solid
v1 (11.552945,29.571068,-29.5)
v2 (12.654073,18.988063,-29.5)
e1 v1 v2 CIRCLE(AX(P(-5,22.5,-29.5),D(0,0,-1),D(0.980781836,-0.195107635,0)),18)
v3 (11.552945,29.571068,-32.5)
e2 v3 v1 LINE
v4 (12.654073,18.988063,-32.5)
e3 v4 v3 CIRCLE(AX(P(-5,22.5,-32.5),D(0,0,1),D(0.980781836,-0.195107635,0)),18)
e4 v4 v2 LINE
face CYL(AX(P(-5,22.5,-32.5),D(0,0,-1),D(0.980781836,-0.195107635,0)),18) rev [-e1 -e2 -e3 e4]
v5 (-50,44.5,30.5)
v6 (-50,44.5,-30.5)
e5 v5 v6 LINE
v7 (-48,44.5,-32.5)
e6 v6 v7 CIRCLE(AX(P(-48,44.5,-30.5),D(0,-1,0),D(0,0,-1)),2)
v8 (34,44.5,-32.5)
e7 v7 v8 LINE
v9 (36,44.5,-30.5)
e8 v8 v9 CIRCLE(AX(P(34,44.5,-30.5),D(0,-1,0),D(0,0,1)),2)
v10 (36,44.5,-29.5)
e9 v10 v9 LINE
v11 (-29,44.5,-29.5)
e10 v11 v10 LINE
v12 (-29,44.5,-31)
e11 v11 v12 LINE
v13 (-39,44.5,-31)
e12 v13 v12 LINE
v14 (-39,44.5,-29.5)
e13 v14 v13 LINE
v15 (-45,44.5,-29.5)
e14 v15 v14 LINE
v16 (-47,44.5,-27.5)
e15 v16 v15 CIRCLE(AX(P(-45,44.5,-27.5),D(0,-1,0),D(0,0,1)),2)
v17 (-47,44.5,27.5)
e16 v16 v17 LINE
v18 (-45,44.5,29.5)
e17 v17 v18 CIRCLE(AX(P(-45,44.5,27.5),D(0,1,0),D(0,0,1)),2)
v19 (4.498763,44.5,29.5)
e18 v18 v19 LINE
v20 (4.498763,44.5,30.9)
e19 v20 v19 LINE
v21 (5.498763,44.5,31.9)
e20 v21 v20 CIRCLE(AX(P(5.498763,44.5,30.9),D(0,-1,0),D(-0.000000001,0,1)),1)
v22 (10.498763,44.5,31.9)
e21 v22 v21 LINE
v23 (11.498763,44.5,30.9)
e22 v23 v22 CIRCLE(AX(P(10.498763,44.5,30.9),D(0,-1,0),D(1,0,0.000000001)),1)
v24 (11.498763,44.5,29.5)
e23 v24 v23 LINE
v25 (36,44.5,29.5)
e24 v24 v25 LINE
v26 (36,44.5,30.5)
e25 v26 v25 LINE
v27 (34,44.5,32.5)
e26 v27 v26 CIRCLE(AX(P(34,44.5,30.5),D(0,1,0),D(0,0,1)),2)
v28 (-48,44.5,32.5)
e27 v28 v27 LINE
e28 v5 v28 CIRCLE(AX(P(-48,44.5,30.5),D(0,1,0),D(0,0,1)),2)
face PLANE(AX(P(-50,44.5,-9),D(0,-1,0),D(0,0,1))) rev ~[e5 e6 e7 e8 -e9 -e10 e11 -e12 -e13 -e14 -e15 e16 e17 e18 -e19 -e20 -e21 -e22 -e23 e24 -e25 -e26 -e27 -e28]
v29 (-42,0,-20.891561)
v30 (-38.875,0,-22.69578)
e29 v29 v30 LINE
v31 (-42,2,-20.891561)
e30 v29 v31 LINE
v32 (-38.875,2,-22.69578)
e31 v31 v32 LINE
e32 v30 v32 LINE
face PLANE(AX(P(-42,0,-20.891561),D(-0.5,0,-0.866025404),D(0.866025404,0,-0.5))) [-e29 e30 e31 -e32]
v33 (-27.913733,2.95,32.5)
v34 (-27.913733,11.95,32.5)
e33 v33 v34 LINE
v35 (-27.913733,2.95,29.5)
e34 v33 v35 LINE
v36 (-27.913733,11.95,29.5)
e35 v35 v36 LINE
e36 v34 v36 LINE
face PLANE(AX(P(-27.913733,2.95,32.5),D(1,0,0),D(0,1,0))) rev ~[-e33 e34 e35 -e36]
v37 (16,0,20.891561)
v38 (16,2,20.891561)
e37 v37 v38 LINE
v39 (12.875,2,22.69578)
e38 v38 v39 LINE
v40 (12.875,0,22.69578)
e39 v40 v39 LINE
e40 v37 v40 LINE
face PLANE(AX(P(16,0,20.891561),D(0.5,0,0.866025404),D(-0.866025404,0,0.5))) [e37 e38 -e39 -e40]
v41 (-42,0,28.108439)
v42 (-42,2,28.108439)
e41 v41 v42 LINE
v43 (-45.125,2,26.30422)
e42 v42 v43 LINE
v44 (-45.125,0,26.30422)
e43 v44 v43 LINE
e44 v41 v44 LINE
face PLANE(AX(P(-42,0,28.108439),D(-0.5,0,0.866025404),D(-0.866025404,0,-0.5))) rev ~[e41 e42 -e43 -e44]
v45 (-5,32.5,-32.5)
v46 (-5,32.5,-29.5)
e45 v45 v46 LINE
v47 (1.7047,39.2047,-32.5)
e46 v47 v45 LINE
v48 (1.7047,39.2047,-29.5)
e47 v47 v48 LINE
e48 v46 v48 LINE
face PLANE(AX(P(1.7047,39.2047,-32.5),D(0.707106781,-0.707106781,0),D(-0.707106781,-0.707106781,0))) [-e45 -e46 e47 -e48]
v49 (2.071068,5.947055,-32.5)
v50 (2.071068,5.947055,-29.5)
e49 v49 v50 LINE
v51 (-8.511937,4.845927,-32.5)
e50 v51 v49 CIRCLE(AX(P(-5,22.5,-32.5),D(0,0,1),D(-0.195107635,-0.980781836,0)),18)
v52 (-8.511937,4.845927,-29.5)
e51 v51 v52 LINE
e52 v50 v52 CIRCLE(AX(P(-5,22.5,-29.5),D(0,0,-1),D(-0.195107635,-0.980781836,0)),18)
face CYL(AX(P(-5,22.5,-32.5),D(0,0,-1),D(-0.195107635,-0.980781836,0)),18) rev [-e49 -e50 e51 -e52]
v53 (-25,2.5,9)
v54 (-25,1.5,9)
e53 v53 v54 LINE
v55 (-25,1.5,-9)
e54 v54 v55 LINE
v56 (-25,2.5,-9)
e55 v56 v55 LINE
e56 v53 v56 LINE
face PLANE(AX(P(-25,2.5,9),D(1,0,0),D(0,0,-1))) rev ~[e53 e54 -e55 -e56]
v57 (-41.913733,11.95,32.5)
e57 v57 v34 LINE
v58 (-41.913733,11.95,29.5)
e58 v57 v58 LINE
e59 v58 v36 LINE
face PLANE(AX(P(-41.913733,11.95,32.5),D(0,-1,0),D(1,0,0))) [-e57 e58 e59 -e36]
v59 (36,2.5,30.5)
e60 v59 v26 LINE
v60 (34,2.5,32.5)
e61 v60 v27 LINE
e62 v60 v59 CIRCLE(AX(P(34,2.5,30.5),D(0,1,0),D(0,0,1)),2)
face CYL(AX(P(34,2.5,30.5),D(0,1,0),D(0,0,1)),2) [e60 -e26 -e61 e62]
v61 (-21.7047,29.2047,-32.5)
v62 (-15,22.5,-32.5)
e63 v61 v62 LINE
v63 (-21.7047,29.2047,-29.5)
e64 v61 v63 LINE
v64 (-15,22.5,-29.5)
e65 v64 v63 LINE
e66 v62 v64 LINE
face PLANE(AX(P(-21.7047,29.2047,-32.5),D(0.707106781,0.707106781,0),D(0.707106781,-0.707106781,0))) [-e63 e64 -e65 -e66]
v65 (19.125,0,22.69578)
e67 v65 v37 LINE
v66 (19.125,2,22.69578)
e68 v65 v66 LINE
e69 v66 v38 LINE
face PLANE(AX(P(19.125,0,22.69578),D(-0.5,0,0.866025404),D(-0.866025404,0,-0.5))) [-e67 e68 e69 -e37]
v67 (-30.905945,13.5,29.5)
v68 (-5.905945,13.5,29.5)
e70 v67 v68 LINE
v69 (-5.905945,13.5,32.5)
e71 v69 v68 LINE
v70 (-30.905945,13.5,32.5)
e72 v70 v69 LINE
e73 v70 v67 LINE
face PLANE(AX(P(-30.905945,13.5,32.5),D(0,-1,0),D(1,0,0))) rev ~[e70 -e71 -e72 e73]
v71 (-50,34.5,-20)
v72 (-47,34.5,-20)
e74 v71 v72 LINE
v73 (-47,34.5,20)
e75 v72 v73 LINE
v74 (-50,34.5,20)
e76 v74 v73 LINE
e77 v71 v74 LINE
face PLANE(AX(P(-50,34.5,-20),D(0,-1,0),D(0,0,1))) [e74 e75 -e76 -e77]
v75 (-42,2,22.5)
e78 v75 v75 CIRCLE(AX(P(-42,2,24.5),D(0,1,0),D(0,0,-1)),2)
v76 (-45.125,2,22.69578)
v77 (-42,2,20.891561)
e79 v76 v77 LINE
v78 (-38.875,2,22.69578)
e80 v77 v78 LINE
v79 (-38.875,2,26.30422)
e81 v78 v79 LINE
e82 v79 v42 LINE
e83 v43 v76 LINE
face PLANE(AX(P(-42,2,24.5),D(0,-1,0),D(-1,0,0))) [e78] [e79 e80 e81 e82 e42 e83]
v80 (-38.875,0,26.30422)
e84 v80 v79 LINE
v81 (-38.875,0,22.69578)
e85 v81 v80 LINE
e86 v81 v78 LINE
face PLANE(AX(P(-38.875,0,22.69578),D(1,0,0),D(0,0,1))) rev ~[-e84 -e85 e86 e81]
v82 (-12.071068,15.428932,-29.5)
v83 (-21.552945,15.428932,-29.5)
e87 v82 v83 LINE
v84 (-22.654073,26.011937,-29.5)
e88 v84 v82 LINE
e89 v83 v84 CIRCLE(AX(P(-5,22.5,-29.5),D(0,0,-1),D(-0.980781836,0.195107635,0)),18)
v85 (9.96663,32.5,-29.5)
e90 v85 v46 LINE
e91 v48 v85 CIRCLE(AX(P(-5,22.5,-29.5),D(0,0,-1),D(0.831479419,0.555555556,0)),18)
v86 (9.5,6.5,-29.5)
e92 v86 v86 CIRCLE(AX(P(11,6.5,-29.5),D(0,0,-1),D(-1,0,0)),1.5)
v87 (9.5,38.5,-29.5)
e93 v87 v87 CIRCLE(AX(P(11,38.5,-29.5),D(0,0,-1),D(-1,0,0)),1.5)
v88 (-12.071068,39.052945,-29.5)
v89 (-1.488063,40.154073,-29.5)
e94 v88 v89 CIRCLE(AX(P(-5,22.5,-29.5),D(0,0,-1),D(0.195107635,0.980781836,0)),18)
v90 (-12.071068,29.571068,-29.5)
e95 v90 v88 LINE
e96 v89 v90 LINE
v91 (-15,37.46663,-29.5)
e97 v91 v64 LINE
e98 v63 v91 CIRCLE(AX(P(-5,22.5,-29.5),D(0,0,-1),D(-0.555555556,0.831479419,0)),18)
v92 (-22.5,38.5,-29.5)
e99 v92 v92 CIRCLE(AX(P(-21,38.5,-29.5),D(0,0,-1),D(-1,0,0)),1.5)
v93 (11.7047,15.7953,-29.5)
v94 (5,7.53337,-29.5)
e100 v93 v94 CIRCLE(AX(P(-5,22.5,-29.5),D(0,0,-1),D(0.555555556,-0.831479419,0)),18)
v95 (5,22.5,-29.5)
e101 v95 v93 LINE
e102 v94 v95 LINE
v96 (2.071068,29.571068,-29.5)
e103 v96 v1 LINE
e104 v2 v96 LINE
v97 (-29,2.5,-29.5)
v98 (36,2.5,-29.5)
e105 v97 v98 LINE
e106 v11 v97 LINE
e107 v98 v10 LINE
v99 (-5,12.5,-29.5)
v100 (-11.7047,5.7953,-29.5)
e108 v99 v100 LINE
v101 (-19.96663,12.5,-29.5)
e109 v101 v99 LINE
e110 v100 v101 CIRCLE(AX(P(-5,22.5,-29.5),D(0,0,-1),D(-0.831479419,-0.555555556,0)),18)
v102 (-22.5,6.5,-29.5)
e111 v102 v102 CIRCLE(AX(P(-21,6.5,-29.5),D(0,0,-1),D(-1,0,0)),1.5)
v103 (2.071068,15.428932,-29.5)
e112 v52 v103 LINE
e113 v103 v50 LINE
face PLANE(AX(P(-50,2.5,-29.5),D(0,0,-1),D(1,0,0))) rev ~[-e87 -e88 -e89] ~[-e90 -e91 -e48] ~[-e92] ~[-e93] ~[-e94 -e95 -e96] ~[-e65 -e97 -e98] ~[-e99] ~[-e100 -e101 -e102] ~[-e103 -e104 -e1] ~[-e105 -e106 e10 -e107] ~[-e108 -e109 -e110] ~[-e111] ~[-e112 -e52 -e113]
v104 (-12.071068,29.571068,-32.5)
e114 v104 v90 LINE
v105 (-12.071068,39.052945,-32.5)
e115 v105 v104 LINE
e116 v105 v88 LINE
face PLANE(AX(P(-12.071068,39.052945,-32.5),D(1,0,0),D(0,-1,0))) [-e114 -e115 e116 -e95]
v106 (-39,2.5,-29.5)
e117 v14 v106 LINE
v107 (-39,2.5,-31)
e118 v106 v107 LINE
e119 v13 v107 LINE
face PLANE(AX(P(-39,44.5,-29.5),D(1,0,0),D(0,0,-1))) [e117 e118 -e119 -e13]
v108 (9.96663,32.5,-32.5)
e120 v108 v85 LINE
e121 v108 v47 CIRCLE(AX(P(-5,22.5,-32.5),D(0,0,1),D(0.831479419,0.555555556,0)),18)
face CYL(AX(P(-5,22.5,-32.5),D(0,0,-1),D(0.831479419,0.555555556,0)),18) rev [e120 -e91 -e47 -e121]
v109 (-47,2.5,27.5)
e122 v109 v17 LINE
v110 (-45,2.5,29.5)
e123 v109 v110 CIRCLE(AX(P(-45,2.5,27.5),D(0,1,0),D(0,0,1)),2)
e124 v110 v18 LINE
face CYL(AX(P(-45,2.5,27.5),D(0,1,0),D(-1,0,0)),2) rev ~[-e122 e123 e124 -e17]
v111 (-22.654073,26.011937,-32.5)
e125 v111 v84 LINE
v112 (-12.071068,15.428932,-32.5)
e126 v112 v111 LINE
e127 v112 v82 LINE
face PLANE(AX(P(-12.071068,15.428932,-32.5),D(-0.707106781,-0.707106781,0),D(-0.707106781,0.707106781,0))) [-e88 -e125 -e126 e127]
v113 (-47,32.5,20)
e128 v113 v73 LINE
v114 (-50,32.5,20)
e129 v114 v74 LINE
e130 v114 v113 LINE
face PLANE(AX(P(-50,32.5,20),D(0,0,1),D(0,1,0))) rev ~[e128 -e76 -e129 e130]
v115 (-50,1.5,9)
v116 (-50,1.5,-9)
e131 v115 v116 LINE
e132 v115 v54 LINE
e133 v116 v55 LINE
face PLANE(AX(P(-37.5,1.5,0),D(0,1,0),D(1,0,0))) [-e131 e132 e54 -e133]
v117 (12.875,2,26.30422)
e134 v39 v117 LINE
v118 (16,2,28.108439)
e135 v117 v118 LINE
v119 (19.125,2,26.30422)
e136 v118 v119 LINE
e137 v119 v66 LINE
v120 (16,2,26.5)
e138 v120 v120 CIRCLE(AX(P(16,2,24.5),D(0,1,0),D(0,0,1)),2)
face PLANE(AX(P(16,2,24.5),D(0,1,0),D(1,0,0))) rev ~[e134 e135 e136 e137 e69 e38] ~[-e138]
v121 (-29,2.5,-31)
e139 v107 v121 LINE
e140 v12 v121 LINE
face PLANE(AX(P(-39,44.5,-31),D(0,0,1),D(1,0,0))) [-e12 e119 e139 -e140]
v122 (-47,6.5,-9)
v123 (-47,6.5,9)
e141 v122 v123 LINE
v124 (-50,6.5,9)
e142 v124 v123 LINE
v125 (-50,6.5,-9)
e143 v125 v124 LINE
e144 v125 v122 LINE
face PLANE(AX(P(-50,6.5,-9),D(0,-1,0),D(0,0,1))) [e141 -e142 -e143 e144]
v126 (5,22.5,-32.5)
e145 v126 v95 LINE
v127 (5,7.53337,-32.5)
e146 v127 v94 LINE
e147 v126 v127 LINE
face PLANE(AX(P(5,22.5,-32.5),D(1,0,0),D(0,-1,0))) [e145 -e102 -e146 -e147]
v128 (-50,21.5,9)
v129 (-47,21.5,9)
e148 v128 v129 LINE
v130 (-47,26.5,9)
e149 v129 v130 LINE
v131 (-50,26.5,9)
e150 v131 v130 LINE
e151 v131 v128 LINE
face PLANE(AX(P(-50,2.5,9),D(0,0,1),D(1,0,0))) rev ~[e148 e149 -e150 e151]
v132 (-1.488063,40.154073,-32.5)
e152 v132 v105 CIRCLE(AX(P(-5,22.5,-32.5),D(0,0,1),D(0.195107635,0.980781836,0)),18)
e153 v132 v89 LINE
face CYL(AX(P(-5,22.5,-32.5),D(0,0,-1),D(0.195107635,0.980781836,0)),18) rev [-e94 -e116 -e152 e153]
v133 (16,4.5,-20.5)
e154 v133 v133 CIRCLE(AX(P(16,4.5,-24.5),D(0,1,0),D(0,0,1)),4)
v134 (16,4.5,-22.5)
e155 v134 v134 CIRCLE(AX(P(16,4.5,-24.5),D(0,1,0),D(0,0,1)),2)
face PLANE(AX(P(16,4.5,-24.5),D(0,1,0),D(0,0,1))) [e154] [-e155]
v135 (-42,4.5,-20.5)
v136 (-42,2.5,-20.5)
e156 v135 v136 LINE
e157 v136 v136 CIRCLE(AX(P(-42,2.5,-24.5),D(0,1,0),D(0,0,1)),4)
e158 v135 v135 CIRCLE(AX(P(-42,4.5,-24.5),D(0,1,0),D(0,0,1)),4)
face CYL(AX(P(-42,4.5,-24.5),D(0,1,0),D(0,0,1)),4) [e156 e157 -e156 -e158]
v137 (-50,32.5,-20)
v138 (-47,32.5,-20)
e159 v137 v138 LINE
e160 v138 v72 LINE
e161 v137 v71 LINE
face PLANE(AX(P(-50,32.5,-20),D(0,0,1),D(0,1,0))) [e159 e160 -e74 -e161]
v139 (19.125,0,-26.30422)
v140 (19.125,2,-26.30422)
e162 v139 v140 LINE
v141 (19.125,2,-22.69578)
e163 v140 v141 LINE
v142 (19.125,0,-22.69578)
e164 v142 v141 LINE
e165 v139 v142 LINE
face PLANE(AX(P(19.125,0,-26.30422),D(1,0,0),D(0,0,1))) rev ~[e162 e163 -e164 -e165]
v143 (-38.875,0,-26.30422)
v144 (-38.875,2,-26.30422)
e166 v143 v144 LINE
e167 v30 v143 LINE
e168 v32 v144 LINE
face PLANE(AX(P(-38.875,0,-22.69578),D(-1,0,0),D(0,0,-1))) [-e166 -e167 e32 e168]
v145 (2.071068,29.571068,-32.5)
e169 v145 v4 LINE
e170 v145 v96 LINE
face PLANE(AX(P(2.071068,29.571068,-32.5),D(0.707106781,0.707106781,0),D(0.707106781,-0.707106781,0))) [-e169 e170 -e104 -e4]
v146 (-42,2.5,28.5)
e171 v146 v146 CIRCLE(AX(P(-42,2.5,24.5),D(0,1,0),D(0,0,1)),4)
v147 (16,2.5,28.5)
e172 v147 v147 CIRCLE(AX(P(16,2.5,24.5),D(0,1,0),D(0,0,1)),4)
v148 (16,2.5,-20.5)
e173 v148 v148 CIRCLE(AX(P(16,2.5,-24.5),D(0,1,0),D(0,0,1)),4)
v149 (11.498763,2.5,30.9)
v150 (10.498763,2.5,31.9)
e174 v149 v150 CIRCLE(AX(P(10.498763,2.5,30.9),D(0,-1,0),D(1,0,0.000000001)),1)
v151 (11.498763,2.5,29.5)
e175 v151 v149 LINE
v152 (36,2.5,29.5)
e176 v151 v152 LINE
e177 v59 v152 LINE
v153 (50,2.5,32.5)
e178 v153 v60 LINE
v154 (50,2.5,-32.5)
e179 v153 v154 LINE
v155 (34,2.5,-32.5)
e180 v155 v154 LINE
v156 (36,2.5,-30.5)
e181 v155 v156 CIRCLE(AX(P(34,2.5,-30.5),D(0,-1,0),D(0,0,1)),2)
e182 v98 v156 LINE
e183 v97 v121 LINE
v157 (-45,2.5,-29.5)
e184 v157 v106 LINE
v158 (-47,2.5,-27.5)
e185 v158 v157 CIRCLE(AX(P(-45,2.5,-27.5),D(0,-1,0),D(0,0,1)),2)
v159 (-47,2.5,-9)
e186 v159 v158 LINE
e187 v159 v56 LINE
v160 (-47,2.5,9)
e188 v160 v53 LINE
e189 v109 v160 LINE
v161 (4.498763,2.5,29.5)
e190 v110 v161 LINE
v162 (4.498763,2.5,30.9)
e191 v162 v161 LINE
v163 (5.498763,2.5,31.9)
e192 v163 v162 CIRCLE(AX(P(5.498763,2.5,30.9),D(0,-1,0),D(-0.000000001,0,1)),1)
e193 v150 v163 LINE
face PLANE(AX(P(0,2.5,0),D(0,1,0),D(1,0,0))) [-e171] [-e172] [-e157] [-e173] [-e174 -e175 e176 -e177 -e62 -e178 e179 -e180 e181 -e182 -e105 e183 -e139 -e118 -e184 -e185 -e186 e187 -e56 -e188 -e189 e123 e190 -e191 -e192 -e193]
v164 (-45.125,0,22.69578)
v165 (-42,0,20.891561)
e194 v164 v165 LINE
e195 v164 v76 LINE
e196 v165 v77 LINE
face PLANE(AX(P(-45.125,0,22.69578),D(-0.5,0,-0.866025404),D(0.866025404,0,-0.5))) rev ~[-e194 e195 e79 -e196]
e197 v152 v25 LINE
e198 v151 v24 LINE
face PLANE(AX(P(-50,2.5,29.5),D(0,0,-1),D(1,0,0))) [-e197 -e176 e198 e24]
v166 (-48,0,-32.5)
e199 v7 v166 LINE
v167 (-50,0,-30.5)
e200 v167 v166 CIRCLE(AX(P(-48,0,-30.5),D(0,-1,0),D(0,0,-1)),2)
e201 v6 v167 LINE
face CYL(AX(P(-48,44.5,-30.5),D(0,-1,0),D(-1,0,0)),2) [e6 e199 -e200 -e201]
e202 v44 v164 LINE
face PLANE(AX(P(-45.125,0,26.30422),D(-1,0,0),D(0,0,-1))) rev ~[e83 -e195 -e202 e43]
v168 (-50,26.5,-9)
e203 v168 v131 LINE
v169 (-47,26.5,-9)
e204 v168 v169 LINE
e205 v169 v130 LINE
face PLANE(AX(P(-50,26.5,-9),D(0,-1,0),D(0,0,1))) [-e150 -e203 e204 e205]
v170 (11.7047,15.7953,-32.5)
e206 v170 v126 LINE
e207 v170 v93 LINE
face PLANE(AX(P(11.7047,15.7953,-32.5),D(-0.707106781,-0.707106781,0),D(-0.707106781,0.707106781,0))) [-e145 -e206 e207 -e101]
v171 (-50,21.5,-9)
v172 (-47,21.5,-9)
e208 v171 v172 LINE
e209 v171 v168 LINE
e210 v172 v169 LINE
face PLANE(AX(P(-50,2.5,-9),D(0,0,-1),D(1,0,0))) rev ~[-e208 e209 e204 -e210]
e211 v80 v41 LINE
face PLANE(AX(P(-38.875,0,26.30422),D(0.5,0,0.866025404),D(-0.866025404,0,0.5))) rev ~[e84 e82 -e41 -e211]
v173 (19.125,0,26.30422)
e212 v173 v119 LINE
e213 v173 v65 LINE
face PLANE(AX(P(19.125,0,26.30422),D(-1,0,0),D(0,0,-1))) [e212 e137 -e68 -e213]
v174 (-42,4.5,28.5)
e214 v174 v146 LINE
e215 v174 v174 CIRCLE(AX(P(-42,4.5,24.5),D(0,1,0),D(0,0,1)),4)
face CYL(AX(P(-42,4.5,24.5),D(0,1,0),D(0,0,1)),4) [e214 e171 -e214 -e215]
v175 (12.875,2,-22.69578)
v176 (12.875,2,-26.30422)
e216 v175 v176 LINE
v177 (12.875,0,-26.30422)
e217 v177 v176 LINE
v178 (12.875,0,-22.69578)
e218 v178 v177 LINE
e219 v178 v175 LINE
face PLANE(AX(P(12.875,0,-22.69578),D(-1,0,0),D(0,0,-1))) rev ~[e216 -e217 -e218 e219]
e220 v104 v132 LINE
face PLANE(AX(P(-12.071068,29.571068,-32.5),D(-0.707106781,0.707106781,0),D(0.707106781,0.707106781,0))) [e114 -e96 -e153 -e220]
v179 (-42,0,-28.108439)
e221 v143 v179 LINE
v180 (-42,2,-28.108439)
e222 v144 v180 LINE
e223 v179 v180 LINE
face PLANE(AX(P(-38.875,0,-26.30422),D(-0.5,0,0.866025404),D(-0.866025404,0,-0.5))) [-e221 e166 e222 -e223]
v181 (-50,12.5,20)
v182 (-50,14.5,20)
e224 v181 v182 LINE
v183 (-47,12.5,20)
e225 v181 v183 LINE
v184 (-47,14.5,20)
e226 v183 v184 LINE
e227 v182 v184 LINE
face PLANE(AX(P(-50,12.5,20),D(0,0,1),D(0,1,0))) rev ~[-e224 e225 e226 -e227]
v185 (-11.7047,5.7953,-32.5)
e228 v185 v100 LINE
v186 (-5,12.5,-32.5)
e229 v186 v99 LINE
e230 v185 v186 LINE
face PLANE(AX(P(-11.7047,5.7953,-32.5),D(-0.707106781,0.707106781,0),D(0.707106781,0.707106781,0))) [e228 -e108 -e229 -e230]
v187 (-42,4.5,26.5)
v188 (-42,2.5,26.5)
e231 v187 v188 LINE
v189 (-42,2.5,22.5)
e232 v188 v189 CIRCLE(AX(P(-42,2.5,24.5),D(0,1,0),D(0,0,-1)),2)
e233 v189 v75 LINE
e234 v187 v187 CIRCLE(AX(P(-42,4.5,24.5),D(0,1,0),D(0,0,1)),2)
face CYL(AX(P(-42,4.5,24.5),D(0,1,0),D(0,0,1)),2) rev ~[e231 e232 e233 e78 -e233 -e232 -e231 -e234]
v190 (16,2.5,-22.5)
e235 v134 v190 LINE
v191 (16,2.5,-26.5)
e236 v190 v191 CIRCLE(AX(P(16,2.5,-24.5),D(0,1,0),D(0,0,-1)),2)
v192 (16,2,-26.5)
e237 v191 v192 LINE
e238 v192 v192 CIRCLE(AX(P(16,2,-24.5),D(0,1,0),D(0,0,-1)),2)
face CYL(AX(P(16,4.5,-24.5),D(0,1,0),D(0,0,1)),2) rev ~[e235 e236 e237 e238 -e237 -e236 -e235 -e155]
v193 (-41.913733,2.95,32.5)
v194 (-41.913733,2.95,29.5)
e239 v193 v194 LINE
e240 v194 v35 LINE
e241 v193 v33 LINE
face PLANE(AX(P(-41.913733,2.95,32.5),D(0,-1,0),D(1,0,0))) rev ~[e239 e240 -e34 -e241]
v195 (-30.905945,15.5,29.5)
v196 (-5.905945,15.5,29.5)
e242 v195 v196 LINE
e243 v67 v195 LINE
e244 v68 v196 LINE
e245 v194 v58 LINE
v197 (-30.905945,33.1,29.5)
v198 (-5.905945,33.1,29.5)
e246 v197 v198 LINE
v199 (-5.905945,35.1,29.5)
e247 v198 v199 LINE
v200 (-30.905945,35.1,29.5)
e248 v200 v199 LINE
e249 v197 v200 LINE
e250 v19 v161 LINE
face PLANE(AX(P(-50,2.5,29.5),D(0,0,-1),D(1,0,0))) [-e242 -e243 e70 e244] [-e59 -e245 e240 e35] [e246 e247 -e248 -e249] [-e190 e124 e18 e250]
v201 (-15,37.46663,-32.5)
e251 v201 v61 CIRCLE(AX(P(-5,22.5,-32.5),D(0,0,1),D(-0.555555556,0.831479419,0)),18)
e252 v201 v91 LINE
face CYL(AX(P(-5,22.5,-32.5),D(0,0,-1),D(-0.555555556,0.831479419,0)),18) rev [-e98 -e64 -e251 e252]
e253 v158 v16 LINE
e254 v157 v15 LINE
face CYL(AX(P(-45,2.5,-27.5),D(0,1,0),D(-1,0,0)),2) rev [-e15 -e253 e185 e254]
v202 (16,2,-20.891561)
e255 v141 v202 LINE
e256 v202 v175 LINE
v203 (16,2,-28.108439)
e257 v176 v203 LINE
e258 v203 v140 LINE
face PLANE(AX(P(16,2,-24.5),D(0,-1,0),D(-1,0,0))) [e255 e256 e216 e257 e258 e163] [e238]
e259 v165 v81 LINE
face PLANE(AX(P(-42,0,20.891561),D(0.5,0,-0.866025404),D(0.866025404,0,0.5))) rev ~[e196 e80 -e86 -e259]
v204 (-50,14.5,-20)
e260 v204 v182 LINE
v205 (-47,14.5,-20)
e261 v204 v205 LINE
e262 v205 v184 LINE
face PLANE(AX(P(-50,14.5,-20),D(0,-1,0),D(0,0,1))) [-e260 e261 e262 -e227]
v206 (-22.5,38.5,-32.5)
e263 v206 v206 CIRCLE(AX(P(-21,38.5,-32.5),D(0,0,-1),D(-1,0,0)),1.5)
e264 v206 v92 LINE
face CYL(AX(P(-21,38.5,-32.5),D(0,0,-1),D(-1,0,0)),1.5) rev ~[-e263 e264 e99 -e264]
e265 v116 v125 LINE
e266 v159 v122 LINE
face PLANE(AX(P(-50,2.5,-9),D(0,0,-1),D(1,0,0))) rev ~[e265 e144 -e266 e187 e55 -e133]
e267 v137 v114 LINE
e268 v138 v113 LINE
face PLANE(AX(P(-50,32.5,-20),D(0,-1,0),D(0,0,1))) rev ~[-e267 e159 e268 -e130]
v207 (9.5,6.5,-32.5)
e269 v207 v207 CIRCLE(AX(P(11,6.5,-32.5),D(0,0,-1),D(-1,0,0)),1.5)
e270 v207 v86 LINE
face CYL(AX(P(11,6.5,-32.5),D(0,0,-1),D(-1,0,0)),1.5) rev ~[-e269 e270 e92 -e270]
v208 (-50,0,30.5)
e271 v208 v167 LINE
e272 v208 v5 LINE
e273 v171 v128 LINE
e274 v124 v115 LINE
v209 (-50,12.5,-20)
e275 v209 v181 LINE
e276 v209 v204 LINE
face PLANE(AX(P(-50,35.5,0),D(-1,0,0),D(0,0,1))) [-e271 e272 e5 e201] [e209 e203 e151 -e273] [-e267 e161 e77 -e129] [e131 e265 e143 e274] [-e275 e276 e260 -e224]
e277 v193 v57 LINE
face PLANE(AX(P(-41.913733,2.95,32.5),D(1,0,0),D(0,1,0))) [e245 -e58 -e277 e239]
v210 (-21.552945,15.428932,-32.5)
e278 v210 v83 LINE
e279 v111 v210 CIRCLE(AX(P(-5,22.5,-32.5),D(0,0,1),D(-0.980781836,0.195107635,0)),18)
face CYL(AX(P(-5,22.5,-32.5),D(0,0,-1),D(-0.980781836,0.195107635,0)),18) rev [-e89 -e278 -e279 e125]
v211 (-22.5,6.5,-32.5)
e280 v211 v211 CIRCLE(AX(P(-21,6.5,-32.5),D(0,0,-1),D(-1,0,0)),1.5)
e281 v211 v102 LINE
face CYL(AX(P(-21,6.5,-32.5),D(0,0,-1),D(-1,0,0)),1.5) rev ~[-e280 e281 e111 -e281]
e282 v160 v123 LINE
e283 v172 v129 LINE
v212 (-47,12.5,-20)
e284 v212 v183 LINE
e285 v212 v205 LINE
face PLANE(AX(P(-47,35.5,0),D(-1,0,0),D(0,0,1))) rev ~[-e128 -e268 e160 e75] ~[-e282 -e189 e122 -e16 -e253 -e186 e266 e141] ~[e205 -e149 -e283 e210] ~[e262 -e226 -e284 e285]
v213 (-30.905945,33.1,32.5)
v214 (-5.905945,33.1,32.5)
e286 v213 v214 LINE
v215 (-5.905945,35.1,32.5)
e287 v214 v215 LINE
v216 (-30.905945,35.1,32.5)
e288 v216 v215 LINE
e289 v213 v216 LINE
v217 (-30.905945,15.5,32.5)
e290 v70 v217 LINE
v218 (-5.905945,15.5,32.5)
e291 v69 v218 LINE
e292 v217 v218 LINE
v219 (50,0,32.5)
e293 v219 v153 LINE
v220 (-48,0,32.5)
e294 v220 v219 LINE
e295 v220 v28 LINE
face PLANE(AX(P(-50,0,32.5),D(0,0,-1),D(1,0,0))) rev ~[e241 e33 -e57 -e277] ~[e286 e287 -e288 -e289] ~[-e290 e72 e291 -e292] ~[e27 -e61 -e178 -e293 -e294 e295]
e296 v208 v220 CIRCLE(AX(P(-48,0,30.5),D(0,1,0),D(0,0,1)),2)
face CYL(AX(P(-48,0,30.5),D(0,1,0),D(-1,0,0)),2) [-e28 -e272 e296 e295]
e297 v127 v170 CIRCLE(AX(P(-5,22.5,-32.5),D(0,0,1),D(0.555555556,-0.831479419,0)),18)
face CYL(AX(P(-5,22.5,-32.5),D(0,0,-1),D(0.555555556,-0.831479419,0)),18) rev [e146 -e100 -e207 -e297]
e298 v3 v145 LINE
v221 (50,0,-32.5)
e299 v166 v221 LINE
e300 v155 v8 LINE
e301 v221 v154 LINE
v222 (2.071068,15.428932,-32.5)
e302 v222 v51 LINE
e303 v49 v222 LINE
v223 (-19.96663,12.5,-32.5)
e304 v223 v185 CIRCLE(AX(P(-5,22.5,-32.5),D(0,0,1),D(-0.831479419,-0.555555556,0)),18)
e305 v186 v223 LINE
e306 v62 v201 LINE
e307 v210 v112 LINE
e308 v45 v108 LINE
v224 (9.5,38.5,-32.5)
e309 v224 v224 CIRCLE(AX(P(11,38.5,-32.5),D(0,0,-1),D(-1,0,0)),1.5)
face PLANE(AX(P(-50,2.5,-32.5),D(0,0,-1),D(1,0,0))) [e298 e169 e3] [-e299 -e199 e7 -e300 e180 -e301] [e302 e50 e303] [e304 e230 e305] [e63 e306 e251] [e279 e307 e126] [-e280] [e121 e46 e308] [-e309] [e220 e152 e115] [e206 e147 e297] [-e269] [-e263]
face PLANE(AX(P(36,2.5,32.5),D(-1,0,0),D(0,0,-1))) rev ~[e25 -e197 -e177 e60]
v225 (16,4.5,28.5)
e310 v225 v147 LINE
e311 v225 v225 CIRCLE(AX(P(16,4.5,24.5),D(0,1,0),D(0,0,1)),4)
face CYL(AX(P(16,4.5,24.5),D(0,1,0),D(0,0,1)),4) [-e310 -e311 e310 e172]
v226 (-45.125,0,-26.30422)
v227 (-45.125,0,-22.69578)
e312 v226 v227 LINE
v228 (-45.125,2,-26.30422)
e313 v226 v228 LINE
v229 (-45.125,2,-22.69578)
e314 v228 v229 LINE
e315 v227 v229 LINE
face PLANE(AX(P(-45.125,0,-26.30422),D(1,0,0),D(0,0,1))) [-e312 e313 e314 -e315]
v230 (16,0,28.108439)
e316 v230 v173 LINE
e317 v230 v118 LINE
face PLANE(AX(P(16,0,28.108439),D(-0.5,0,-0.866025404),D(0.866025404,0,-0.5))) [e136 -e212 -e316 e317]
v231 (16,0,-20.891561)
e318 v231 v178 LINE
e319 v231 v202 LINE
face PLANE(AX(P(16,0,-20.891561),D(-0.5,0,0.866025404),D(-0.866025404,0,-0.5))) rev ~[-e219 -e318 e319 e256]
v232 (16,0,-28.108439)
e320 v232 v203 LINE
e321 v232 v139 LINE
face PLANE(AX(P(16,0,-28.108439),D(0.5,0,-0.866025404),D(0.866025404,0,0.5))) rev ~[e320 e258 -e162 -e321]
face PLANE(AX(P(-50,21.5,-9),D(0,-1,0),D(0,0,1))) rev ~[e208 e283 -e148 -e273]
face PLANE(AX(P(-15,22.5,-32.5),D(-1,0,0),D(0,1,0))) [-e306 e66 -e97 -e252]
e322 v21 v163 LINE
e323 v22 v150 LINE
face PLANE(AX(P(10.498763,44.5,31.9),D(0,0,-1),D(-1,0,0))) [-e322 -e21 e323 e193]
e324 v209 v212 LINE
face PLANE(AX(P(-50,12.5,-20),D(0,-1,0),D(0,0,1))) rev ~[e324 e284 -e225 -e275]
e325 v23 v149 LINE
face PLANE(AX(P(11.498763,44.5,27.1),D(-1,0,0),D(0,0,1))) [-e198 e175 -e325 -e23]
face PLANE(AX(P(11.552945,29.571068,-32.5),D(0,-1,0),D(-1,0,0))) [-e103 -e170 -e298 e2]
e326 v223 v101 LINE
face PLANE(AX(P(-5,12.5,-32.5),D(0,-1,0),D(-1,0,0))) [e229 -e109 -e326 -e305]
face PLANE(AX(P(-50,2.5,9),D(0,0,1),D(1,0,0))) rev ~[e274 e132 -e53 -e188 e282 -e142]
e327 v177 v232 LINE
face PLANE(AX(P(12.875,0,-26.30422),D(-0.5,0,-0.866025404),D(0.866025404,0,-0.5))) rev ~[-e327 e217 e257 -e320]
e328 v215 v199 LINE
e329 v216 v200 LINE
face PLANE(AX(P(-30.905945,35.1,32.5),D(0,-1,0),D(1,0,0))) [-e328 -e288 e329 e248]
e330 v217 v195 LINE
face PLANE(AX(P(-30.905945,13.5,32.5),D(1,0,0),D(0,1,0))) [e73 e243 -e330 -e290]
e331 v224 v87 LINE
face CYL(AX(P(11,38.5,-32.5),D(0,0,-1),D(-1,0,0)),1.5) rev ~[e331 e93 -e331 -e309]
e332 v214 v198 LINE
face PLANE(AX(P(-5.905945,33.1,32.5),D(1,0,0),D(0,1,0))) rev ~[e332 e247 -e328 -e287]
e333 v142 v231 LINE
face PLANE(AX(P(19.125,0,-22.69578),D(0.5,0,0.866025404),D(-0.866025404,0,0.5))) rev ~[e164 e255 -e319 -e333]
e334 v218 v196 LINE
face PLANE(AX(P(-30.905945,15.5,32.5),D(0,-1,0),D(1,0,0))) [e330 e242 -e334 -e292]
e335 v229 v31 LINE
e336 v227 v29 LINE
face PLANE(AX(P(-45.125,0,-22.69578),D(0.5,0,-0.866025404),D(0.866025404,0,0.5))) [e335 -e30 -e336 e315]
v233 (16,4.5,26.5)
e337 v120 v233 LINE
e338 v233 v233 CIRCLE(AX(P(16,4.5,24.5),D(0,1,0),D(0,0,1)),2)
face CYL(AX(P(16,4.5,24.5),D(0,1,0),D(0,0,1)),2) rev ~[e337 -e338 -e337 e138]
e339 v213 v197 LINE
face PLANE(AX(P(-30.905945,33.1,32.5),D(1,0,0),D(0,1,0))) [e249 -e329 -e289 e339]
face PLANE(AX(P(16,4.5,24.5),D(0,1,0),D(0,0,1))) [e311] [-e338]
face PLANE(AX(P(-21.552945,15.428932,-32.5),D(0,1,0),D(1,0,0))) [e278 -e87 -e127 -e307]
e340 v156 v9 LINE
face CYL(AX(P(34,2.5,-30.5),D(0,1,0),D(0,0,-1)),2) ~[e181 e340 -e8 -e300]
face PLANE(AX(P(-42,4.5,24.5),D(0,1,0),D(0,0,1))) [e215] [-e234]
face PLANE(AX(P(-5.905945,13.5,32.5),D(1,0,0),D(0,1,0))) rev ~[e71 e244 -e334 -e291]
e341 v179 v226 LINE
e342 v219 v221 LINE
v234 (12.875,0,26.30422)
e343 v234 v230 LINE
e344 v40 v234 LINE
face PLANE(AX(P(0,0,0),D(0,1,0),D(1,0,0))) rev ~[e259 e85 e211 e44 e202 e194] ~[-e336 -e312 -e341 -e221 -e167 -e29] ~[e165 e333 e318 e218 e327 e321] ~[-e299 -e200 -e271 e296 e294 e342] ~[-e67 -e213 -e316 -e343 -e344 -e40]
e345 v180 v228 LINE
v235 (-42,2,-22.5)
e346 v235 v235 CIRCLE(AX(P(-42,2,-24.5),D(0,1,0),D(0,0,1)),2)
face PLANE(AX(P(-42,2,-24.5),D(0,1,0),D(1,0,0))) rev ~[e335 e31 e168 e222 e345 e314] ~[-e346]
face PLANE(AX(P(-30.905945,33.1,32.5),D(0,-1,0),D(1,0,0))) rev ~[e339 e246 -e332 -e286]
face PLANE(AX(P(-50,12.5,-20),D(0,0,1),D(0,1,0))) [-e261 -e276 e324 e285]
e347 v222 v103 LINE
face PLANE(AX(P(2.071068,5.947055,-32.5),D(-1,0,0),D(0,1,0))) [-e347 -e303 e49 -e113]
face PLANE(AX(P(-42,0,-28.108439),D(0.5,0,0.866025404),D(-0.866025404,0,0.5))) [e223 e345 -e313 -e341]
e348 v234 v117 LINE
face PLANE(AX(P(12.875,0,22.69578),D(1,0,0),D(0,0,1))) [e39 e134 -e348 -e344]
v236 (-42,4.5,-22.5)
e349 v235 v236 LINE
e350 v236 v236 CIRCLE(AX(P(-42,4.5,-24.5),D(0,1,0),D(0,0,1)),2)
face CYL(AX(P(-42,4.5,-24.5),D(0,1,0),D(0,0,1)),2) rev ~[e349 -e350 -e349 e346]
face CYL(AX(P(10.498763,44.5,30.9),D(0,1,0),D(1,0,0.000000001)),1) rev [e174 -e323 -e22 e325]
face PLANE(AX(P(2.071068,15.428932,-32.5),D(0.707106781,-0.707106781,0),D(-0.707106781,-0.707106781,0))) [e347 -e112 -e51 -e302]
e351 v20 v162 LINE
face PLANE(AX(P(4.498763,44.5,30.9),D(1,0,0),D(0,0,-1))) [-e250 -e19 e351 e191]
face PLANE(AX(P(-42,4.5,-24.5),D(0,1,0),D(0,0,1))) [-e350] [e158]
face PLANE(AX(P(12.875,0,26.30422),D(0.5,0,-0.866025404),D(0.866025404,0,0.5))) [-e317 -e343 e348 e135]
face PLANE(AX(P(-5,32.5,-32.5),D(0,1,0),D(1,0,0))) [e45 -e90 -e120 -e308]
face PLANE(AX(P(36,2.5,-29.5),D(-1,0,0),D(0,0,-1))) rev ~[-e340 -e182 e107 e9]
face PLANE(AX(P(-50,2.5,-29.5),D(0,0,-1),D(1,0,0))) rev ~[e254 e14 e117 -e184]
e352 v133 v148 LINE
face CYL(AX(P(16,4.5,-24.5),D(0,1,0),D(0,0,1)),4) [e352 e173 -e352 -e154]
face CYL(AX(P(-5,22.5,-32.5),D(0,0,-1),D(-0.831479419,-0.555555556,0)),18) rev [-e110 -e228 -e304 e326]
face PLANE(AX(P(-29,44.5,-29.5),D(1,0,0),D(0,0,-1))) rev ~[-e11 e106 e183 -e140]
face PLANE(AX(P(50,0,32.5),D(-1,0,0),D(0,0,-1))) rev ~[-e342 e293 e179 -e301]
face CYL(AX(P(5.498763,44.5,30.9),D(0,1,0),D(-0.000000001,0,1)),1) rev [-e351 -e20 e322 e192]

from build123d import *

# Parameters (mm, degrees)
SKETCH1_W           = 100
SKETCH1_H           = 65
BOSS_EXTRUDE1_DEPTH = 2.5
SKETCH2_R           = 2
CUT_EXTRUDE1_DEPTH  = 60.686681932
BOSS_EXTRUDE2_START = 2
SKETCH3_R           = 4
SKETCH3_R_2         = 2
BOSS_EXTRUDE2_DEPTH = 2
CUT_EXTRUDE2_DEPTH  = 2
SKETCH5_W           = 25
SKETCH5_H           = 18
CUT_EXTRUDE3_DEPTH  = 1
SKETCH6_W           = 86
SKETCH6_H           = 3
BOSS_EXTRUDE3_DEPTH = 42
CUT_EXTRUDE4_DEPTH  = 42
SKETCH8_W           = 3
SKETCH8_H           = 20.5
BOSS_EXTRUDE4_DEPTH = 42
SKETCH9_W           = 18
SKETCH9_H           = 15
SKETCH9_H_2         = 18
BOSS_EXTRUDE5_DEPTH = 3
CUT_EXTRUDE5_REACH  = 95.302
SKETCH12_W          = 25
SKETCH12_H          = 2
CUT_EXTRUDE7_REACH  = 95.302
SKETCH14_W          = 14
SKETCH14_H          = 9
FILLET1_R           = 2
SKETCH15_W          = 10
SKETCH15_H          = 1.5
CUT_EXTRUDE8_DEPTH  = 42
SKETCH16_W          = 40
SKETCH16_H          = 2
CUT_EXTRUDE9_DEPTH  = 3
CUT_EXTRUDE10_REACH = 95.302
SKETCH17_R          = 1.5
CUT_EXTRUDE11_REACH = 95.302


with BuildPart() as part:
    # Sketch1 → Boss-Extrude1 (new body)
    with BuildSketch(Plane(origin=(0, 0, 0), x_dir=(1, 0, 0), z_dir=(0, 1, 0))):
        Rectangle(SKETCH1_W, SKETCH1_H)
    extrude(amount=BOSS_EXTRUDE1_DEPTH)

    # Sketch2 → Cut-Extrude1 (cut, through all)
    with BuildSketch(Plane(origin=(0, 2.5, 0), x_dir=(1, 0, 0), z_dir=(0, 1, 0))):
        with Locations(Location((-42, 24.5, 0), (0, 0, 270))):
            Circle(SKETCH2_R)
        with Locations(Location((-42, -24.5, 0), (0, 0, 90))):
            Circle(SKETCH2_R)
        with Locations(Location((16, -24.5, 0), (0, 0, 270))):
            Circle(SKETCH2_R)
        with Locations(Location((16, 24.5, 0), (0, 0, 90))):
            Circle(SKETCH2_R)
    extrude(amount=-CUT_EXTRUDE1_DEPTH, mode=Mode.SUBTRACT)

    # Sketch3 → Boss-Extrude2 (add)
    # profile 1 of 4: a face of its own
    with BuildSketch(Plane(origin=(0, 2.5, 0), x_dir=(1, 0, 0), z_dir=(0, 1, 0)).offset(BOSS_EXTRUDE2_START)):
        with Locations(Location((-42, 24.5, 0), (0, 0, 270))):
            Circle(SKETCH3_R)
        with Locations(Location((-42, 24.5, 0), (0, 0, 270))):
            Circle(SKETCH3_R_2, mode=Mode.SUBTRACT)
    # profile 2 of 4: a face of its own
    with BuildSketch(Plane(origin=(0, 2.5, 0), x_dir=(1, 0, 0), z_dir=(0, 1, 0)).offset(BOSS_EXTRUDE2_START)):
        with Locations(Location((16, 24.5, 0), (0, 0, 270))):
            Circle(SKETCH3_R)
        with Locations(Location((16, 24.5, 0), (0, 0, 270))):
            Circle(SKETCH3_R_2, mode=Mode.SUBTRACT)
    # profile 3 of 4: a face of its own
    with BuildSketch(Plane(origin=(0, 2.5, 0), x_dir=(1, 0, 0), z_dir=(0, 1, 0)).offset(BOSS_EXTRUDE2_START)):
        with Locations(Location((16, -24.5, 0), (0, 0, 270))):
            Circle(SKETCH3_R)
        with Locations(Location((16, -24.5, 0), (0, 0, 270))):
            Circle(SKETCH3_R_2, mode=Mode.SUBTRACT)
    # profile 4 of 4: a face of its own
    with BuildSketch(Plane(origin=(0, 2.5, 0), x_dir=(1, 0, 0), z_dir=(0, 1, 0)).offset(BOSS_EXTRUDE2_START)):
        with Locations(Location((-42, -24.5, 0), (0, 0, 270))):
            Circle(SKETCH3_R)
        with Locations(Location((-42, -24.5, 0), (0, 0, 270))):
            Circle(SKETCH3_R_2, mode=Mode.SUBTRACT)
    extrude(amount=-BOSS_EXTRUDE2_DEPTH)

    # Sketch4 → Cut-Extrude2 (cut)
    with BuildSketch(Plane(origin=(0, 0, 0), x_dir=(-1, 0, 0), z_dir=(0, -1, 0))):
        Polygon((42, -28.108439182), (45.125, -26.304219591), (45.125, -22.695780409), (42, -20.891560818), (38.875, -22.695780409), (38.875, -26.304219591), align=None)
        Polygon((-12.875, -26.304219591), (-16, -28.108439182), (-19.125, -26.304219591), (-19.125, -22.695780409), (-16, -20.891560818), (-12.875, -22.695780409), align=None)
        Polygon((-19.125, 26.304219591), (-19.125, 22.695780409), (-16, 20.891560818), (-12.875, 22.695780409), (-12.875, 26.304219591), (-16, 28.108439182), align=None)
        Polygon((38.875, 26.304219591), (42, 28.108439182), (45.125, 26.304219591), (45.125, 22.695780409), (42, 20.891560818), (38.875, 22.695780409), align=None)
    extrude(amount=-CUT_EXTRUDE2_DEPTH, mode=Mode.SUBTRACT)

    # Sketch5 → Cut-Extrude3 (cut)
    with BuildSketch(Plane(origin=(0, 2.5, 0), x_dir=(1, 0, 0), z_dir=(0, 1, 0))):
        with Locations((-37.5, 0)):
            Rectangle(SKETCH5_W, SKETCH5_H)
    extrude(amount=-CUT_EXTRUDE3_DEPTH, mode=Mode.SUBTRACT)

    # Sketch6 → Boss-Extrude3 (add)
    with BuildSketch(Plane(origin=(0, 2.5, 0), x_dir=(1, 0, 0), z_dir=(0, 1, 0))):
        with Locations((-7, 31)):
            Rectangle(SKETCH6_W, SKETCH6_H)
        with Locations((-7, -31)):
            Rectangle(SKETCH6_W, SKETCH6_H)
    extrude(amount=BOSS_EXTRUDE3_DEPTH)

    # Sketch7 → Cut-Extrude4 (cut)
    with BuildSketch(Plane(origin=(0, 44.5, 0), x_dir=(1, 0, 0), z_dir=(0, 1, 0))):
        with BuildLine():
            Line((4.498762586, -27.1), (11.498762586, -27.1))
            Line((11.498762586, -27.1), (11.498762586, -30.9))
            ThreePointArc((11.498762586, -30.9), (11.205869367, -31.607106781), (10.498762586, -31.9))
            Line((10.498762586, -31.9), (5.498762586, -31.9))
            ThreePointArc((5.498762586, -31.9), (4.791655805, -31.607106781), (4.498762586, -30.9))
            Line((4.498762586, -30.9), (4.498762586, -27.1))
        make_face()
    extrude(amount=-CUT_EXTRUDE4_DEPTH, mode=Mode.SUBTRACT)

    # Sketch8 → Boss-Extrude4 (add)
    with BuildSketch(Plane(origin=(0, 2.5, 0), x_dir=(1, 0, 0), z_dir=(0, 1, 0))):
        with Locations((-48.5, 19.25)):
            Rectangle(SKETCH8_W, SKETCH8_H)
        with Locations((-48.5, -19.25)):
            Rectangle(SKETCH8_W, SKETCH8_H)
    extrude(amount=BOSS_EXTRUDE4_DEPTH)

    # Sketch9 → Boss-Extrude5 (add)
    with BuildSketch(Plane.ZY.offset(50)):
        with Locations((0, 14)):
            Rectangle(SKETCH9_W, SKETCH9_H)
        with Locations((0, 35.5)):
            Rectangle(SKETCH9_W, SKETCH9_H_2)
    extrude(amount=-BOSS_EXTRUDE5_DEPTH)

    # Sketch12 → Cut-Extrude5 (cut, up to next)
    with BuildSketch(Plane.XY.offset(32.5), mode=Mode.PRIVATE) as cut_extrude5_sk1:
        with Locations((-18.405944567, 14.5)):
            Rectangle(SKETCH12_W, SKETCH12_H)
    cut_extrude5_tool1 = extrude(cut_extrude5_sk1.sketch, amount=-CUT_EXTRUDE5_REACH, mode=Mode.PRIVATE) & part.part
    # Sketch12 → Cut-Extrude5 (cut, up to next)
    with BuildSketch(Plane.XY.offset(32.5), mode=Mode.PRIVATE) as cut_extrude5_sk2:
        with Locations((-18.405944567, 34.1)):
            Rectangle(SKETCH12_W, SKETCH12_H)
    cut_extrude5_tool2 = extrude(cut_extrude5_sk2.sketch, amount=-CUT_EXTRUDE5_REACH, mode=Mode.PRIVATE) & part.part
    add(cut_extrude5_tool1.solids().sort_by_distance((-18.405945, 14.5, 32.5))[0], mode=Mode.SUBTRACT)
    add(cut_extrude5_tool2.solids().sort_by_distance((-18.405945, 34.1, 32.5))[0], mode=Mode.SUBTRACT)

    # Sketch14 → Cut-Extrude7 (cut, up to next)
    with BuildSketch(Plane.XY.offset(32.5), mode=Mode.PRIVATE) as cut_extrude7_sk1:
        with Locations((-34.913733217, 7.45)):
            Rectangle(SKETCH14_W, SKETCH14_H)
    cut_extrude7_tool1 = extrude(cut_extrude7_sk1.sketch, amount=-CUT_EXTRUDE7_REACH, mode=Mode.PRIVATE) & part.part
    add(cut_extrude7_tool1.solids().sort_by_distance((-34.913733, 7.45, 32.5))[0], mode=Mode.SUBTRACT)

    # Fillet1
    fillet1_edges = [part.edges().sort_by_distance(p)[0] for p in [
        (36, 23.5, -32.5),
        (36, 23.5, 32.5),
        (-47, 23.5, -29.5),
        (-47, 23.5, 29.5),
        (-50, 22.25, 32.5),
        (-50, 22.25, -32.5),
    ]]
    fillet(fillet1_edges, radius=FILLET1_R)

    # Sketch15 → Cut-Extrude8 (cut)
    with BuildSketch(Plane(origin=(0, 44.5, 0), x_dir=(1, 0, 0), z_dir=(0, 1, 0))):
        with Locations((-34, 30.25)):
            Rectangle(SKETCH15_W, SKETCH15_H)
    extrude(amount=-CUT_EXTRUDE8_DEPTH, mode=Mode.SUBTRACT)

    # Sketch16 → Cut-Extrude9 (cut)
    with BuildSketch(Plane.ZY.offset(50)):
        with Locations((0, 13.5)):
            Rectangle(SKETCH16_W, SKETCH16_H)
        with Locations((0, 33.5)):
            Rectangle(SKETCH16_W, SKETCH16_H)
    extrude(amount=-CUT_EXTRUDE9_DEPTH, mode=Mode.SUBTRACT)

    # Sketch17 → Cut-Extrude10 (cut, up to next)
    with BuildSketch(Plane(origin=(0, 0, -32.5), x_dir=(-1, 0, 0), z_dir=(0, 0, -1)), mode=Mode.PRIVATE) as cut_extrude10_sk1:
        with Locations((-11, 38.5)):
            Circle(SKETCH17_R)
    cut_extrude10_tool1 = extrude(cut_extrude10_sk1.sketch, amount=-CUT_EXTRUDE10_REACH, mode=Mode.PRIVATE) & part.part
    # Sketch17 → Cut-Extrude10 (cut, up to next)
    with BuildSketch(Plane(origin=(0, 0, -32.5), x_dir=(-1, 0, 0), z_dir=(0, 0, -1)), mode=Mode.PRIVATE) as cut_extrude10_sk2:
        with Locations((21, 38.5)):
            Circle(SKETCH17_R)
    cut_extrude10_tool2 = extrude(cut_extrude10_sk2.sketch, amount=-CUT_EXTRUDE10_REACH, mode=Mode.PRIVATE) & part.part
    # Sketch17 → Cut-Extrude10 (cut, up to next)
    with BuildSketch(Plane(origin=(0, 0, -32.5), x_dir=(-1, 0, 0), z_dir=(0, 0, -1)), mode=Mode.PRIVATE) as cut_extrude10_sk3:
        with Locations((21, 6.5)):
            Circle(SKETCH17_R)
    cut_extrude10_tool3 = extrude(cut_extrude10_sk3.sketch, amount=-CUT_EXTRUDE10_REACH, mode=Mode.PRIVATE) & part.part
    # Sketch17 → Cut-Extrude10 (cut, up to next)
    with BuildSketch(Plane(origin=(0, 0, -32.5), x_dir=(-1, 0, 0), z_dir=(0, 0, -1)), mode=Mode.PRIVATE) as cut_extrude10_sk4:
        with Locations((-11, 6.5)):
            Circle(SKETCH17_R)
    cut_extrude10_tool4 = extrude(cut_extrude10_sk4.sketch, amount=-CUT_EXTRUDE10_REACH, mode=Mode.PRIVATE) & part.part
    add(cut_extrude10_tool1.solids().sort_by_distance((11, 38.5, -32.5))[0], mode=Mode.SUBTRACT)
    add(cut_extrude10_tool2.solids().sort_by_distance((-21, 38.5, -32.5))[0], mode=Mode.SUBTRACT)
    add(cut_extrude10_tool3.solids().sort_by_distance((-21, 6.5, -32.5))[0], mode=Mode.SUBTRACT)
    add(cut_extrude10_tool4.solids().sort_by_distance((11, 6.5, -32.5))[0], mode=Mode.SUBTRACT)

    # Sketch18 → Cut-Extrude11 (cut, up to next)
    with BuildSketch(Plane(origin=(0, 0, -32.5), x_dir=(-1, 0, 0), z_dir=(0, 0, -1)), mode=Mode.PRIVATE) as cut_extrude11_sk1:
        with BuildLine():
            Line((12.071067812, 29.571067812), (1.488062568, 40.154073056))
            ThreePointArc((1.488062568, 40.154073056), (6.862786305, 40.403352401), (12.071067812, 39.052945357))
            Line((12.071067812, 39.052945357), (12.071067812, 29.571067812))
        make_face()
    cut_extrude11_tool1 = extrude(cut_extrude11_sk1.sketch, amount=-CUT_EXTRUDE11_REACH, mode=Mode.PRIVATE) & part.part
    # Sketch18 → Cut-Extrude11 (cut, up to next)
    with BuildSketch(Plane(origin=(0, 0, -32.5), x_dir=(-1, 0, 0), z_dir=(0, 0, -1)), mode=Mode.PRIVATE) as cut_extrude11_sk2:
        with BuildLine():
            Line((15, 22.5), (15, 37.466629547))
            ThreePointArc((15, 37.466629547), (18.976770716, 33.842393061), (21.704699911, 29.204699911))
            Line((21.704699911, 29.204699911), (15, 22.5))
        make_face()
    cut_extrude11_tool2 = extrude(cut_extrude11_sk2.sketch, amount=-CUT_EXTRUDE11_REACH, mode=Mode.PRIVATE) & part.part
    # Sketch18 → Cut-Extrude11 (cut, up to next)
    with BuildSketch(Plane(origin=(0, 0, -32.5), x_dir=(-1, 0, 0), z_dir=(0, 0, -1)), mode=Mode.PRIVATE) as cut_extrude11_sk3:
        with BuildLine():
            Line((12.071067812, 15.428932188), (22.654073056, 26.011937432))
            ThreePointArc((22.654073056, 26.011937432), (22.903352401, 20.637213695), (21.552945357, 15.428932188))
            Line((21.552945357, 15.428932188), (12.071067812, 15.428932188))
        make_face()
    cut_extrude11_tool3 = extrude(cut_extrude11_sk3.sketch, amount=-CUT_EXTRUDE11_REACH, mode=Mode.PRIVATE) & part.part
    # Sketch18 → Cut-Extrude11 (cut, up to next)
    with BuildSketch(Plane(origin=(0, 0, -32.5), x_dir=(-1, 0, 0), z_dir=(0, 0, -1)), mode=Mode.PRIVATE) as cut_extrude11_sk4:
        with BuildLine():
            Line((5, 12.5), (19.966629547, 12.5))
            ThreePointArc((19.966629547, 12.5), (16.342393061, 8.523229284), (11.704699911, 5.795300089))
            Line((11.704699911, 5.795300089), (5, 12.5))
        make_face()
    cut_extrude11_tool4 = extrude(cut_extrude11_sk4.sketch, amount=-CUT_EXTRUDE11_REACH, mode=Mode.PRIVATE) & part.part
    # Sketch18 → Cut-Extrude11 (cut, up to next)
    with BuildSketch(Plane(origin=(0, 0, -32.5), x_dir=(-1, 0, 0), z_dir=(0, 0, -1)), mode=Mode.PRIVATE) as cut_extrude11_sk5:
        with BuildLine():
            Line((-2.071067812, 15.428932188), (8.511937432, 4.845926944))
            ThreePointArc((8.511937432, 4.845926944), (3.137213695, 4.596647599), (-2.071067812, 5.947054643))
            Line((-2.071067812, 5.947054643), (-2.071067812, 15.428932188))
        make_face()
    cut_extrude11_tool5 = extrude(cut_extrude11_sk5.sketch, amount=-CUT_EXTRUDE11_REACH, mode=Mode.PRIVATE) & part.part
    # Sketch18 → Cut-Extrude11 (cut, up to next)
    with BuildSketch(Plane(origin=(0, 0, -32.5), x_dir=(-1, 0, 0), z_dir=(0, 0, -1)), mode=Mode.PRIVATE) as cut_extrude11_sk6:
        with BuildLine():
            Line((-5, 22.5), (-5, 7.533370453))
            ThreePointArc((-5, 7.533370453), (-8.976770716, 11.157606939), (-11.704699911, 15.795300089))
            Line((-11.704699911, 15.795300089), (-5, 22.5))
        make_face()
    cut_extrude11_tool6 = extrude(cut_extrude11_sk6.sketch, amount=-CUT_EXTRUDE11_REACH, mode=Mode.PRIVATE) & part.part
    # Sketch18 → Cut-Extrude11 (cut, up to next)
    with BuildSketch(Plane(origin=(0, 0, -32.5), x_dir=(-1, 0, 0), z_dir=(0, 0, -1)), mode=Mode.PRIVATE) as cut_extrude11_sk7:
        with BuildLine():
            Line((5, 32.5), (-9.966629547, 32.5))
            ThreePointArc((-9.966629547, 32.5), (-6.342393061, 36.476770716), (-1.704699911, 39.204699911))
            Line((-1.704699911, 39.204699911), (5, 32.5))
        make_face()
    cut_extrude11_tool7 = extrude(cut_extrude11_sk7.sketch, amount=-CUT_EXTRUDE11_REACH, mode=Mode.PRIVATE) & part.part
    # Sketch18 → Cut-Extrude11 (cut, up to next)
    with BuildSketch(Plane(origin=(0, 0, -32.5), x_dir=(-1, 0, 0), z_dir=(0, 0, -1)), mode=Mode.PRIVATE) as cut_extrude11_sk8:
        with BuildLine():
            Line((-2.071067812, 29.571067812), (-12.654073056, 18.988062568))
            ThreePointArc((-12.654073056, 18.988062568), (-12.903352401, 24.362786305), (-11.552945357, 29.571067812))
            Line((-11.552945357, 29.571067812), (-2.071067812, 29.571067812))
        make_face()
    cut_extrude11_tool8 = extrude(cut_extrude11_sk8.sketch, amount=-CUT_EXTRUDE11_REACH, mode=Mode.PRIVATE) & part.part
    add(cut_extrude11_tool1.solids().sort_by_distance((-8.366021, 36.635002, -32.5))[0], mode=Mode.SUBTRACT)
    add(cut_extrude11_tool2.solids().sort_by_distance((-17.375092, 30.114819, -32.5))[0], mode=Mode.SUBTRACT)
    add(cut_extrude11_tool3.solids().sort_by_distance((-19.135002, 19.133979, -32.5))[0], mode=Mode.SUBTRACT)
    add(cut_extrude11_tool4.solids().sort_by_distance((-12.614819, 10.124908, -32.5))[0], mode=Mode.SUBTRACT)
    add(cut_extrude11_tool5.solids().sort_by_distance((-1.633979, 8.364998, -32.5))[0], mode=Mode.SUBTRACT)
    add(cut_extrude11_tool6.solids().sort_by_distance((7.375092, 14.885181, -32.5))[0], mode=Mode.SUBTRACT)
    add(cut_extrude11_tool7.solids().sort_by_distance((2.614819, 34.875092, -32.5))[0], mode=Mode.SUBTRACT)
    add(cut_extrude11_tool8.solids().sort_by_distance((9.135002, 25.866021, -32.5))[0], mode=Mode.SUBTRACT)


solid = part.part
